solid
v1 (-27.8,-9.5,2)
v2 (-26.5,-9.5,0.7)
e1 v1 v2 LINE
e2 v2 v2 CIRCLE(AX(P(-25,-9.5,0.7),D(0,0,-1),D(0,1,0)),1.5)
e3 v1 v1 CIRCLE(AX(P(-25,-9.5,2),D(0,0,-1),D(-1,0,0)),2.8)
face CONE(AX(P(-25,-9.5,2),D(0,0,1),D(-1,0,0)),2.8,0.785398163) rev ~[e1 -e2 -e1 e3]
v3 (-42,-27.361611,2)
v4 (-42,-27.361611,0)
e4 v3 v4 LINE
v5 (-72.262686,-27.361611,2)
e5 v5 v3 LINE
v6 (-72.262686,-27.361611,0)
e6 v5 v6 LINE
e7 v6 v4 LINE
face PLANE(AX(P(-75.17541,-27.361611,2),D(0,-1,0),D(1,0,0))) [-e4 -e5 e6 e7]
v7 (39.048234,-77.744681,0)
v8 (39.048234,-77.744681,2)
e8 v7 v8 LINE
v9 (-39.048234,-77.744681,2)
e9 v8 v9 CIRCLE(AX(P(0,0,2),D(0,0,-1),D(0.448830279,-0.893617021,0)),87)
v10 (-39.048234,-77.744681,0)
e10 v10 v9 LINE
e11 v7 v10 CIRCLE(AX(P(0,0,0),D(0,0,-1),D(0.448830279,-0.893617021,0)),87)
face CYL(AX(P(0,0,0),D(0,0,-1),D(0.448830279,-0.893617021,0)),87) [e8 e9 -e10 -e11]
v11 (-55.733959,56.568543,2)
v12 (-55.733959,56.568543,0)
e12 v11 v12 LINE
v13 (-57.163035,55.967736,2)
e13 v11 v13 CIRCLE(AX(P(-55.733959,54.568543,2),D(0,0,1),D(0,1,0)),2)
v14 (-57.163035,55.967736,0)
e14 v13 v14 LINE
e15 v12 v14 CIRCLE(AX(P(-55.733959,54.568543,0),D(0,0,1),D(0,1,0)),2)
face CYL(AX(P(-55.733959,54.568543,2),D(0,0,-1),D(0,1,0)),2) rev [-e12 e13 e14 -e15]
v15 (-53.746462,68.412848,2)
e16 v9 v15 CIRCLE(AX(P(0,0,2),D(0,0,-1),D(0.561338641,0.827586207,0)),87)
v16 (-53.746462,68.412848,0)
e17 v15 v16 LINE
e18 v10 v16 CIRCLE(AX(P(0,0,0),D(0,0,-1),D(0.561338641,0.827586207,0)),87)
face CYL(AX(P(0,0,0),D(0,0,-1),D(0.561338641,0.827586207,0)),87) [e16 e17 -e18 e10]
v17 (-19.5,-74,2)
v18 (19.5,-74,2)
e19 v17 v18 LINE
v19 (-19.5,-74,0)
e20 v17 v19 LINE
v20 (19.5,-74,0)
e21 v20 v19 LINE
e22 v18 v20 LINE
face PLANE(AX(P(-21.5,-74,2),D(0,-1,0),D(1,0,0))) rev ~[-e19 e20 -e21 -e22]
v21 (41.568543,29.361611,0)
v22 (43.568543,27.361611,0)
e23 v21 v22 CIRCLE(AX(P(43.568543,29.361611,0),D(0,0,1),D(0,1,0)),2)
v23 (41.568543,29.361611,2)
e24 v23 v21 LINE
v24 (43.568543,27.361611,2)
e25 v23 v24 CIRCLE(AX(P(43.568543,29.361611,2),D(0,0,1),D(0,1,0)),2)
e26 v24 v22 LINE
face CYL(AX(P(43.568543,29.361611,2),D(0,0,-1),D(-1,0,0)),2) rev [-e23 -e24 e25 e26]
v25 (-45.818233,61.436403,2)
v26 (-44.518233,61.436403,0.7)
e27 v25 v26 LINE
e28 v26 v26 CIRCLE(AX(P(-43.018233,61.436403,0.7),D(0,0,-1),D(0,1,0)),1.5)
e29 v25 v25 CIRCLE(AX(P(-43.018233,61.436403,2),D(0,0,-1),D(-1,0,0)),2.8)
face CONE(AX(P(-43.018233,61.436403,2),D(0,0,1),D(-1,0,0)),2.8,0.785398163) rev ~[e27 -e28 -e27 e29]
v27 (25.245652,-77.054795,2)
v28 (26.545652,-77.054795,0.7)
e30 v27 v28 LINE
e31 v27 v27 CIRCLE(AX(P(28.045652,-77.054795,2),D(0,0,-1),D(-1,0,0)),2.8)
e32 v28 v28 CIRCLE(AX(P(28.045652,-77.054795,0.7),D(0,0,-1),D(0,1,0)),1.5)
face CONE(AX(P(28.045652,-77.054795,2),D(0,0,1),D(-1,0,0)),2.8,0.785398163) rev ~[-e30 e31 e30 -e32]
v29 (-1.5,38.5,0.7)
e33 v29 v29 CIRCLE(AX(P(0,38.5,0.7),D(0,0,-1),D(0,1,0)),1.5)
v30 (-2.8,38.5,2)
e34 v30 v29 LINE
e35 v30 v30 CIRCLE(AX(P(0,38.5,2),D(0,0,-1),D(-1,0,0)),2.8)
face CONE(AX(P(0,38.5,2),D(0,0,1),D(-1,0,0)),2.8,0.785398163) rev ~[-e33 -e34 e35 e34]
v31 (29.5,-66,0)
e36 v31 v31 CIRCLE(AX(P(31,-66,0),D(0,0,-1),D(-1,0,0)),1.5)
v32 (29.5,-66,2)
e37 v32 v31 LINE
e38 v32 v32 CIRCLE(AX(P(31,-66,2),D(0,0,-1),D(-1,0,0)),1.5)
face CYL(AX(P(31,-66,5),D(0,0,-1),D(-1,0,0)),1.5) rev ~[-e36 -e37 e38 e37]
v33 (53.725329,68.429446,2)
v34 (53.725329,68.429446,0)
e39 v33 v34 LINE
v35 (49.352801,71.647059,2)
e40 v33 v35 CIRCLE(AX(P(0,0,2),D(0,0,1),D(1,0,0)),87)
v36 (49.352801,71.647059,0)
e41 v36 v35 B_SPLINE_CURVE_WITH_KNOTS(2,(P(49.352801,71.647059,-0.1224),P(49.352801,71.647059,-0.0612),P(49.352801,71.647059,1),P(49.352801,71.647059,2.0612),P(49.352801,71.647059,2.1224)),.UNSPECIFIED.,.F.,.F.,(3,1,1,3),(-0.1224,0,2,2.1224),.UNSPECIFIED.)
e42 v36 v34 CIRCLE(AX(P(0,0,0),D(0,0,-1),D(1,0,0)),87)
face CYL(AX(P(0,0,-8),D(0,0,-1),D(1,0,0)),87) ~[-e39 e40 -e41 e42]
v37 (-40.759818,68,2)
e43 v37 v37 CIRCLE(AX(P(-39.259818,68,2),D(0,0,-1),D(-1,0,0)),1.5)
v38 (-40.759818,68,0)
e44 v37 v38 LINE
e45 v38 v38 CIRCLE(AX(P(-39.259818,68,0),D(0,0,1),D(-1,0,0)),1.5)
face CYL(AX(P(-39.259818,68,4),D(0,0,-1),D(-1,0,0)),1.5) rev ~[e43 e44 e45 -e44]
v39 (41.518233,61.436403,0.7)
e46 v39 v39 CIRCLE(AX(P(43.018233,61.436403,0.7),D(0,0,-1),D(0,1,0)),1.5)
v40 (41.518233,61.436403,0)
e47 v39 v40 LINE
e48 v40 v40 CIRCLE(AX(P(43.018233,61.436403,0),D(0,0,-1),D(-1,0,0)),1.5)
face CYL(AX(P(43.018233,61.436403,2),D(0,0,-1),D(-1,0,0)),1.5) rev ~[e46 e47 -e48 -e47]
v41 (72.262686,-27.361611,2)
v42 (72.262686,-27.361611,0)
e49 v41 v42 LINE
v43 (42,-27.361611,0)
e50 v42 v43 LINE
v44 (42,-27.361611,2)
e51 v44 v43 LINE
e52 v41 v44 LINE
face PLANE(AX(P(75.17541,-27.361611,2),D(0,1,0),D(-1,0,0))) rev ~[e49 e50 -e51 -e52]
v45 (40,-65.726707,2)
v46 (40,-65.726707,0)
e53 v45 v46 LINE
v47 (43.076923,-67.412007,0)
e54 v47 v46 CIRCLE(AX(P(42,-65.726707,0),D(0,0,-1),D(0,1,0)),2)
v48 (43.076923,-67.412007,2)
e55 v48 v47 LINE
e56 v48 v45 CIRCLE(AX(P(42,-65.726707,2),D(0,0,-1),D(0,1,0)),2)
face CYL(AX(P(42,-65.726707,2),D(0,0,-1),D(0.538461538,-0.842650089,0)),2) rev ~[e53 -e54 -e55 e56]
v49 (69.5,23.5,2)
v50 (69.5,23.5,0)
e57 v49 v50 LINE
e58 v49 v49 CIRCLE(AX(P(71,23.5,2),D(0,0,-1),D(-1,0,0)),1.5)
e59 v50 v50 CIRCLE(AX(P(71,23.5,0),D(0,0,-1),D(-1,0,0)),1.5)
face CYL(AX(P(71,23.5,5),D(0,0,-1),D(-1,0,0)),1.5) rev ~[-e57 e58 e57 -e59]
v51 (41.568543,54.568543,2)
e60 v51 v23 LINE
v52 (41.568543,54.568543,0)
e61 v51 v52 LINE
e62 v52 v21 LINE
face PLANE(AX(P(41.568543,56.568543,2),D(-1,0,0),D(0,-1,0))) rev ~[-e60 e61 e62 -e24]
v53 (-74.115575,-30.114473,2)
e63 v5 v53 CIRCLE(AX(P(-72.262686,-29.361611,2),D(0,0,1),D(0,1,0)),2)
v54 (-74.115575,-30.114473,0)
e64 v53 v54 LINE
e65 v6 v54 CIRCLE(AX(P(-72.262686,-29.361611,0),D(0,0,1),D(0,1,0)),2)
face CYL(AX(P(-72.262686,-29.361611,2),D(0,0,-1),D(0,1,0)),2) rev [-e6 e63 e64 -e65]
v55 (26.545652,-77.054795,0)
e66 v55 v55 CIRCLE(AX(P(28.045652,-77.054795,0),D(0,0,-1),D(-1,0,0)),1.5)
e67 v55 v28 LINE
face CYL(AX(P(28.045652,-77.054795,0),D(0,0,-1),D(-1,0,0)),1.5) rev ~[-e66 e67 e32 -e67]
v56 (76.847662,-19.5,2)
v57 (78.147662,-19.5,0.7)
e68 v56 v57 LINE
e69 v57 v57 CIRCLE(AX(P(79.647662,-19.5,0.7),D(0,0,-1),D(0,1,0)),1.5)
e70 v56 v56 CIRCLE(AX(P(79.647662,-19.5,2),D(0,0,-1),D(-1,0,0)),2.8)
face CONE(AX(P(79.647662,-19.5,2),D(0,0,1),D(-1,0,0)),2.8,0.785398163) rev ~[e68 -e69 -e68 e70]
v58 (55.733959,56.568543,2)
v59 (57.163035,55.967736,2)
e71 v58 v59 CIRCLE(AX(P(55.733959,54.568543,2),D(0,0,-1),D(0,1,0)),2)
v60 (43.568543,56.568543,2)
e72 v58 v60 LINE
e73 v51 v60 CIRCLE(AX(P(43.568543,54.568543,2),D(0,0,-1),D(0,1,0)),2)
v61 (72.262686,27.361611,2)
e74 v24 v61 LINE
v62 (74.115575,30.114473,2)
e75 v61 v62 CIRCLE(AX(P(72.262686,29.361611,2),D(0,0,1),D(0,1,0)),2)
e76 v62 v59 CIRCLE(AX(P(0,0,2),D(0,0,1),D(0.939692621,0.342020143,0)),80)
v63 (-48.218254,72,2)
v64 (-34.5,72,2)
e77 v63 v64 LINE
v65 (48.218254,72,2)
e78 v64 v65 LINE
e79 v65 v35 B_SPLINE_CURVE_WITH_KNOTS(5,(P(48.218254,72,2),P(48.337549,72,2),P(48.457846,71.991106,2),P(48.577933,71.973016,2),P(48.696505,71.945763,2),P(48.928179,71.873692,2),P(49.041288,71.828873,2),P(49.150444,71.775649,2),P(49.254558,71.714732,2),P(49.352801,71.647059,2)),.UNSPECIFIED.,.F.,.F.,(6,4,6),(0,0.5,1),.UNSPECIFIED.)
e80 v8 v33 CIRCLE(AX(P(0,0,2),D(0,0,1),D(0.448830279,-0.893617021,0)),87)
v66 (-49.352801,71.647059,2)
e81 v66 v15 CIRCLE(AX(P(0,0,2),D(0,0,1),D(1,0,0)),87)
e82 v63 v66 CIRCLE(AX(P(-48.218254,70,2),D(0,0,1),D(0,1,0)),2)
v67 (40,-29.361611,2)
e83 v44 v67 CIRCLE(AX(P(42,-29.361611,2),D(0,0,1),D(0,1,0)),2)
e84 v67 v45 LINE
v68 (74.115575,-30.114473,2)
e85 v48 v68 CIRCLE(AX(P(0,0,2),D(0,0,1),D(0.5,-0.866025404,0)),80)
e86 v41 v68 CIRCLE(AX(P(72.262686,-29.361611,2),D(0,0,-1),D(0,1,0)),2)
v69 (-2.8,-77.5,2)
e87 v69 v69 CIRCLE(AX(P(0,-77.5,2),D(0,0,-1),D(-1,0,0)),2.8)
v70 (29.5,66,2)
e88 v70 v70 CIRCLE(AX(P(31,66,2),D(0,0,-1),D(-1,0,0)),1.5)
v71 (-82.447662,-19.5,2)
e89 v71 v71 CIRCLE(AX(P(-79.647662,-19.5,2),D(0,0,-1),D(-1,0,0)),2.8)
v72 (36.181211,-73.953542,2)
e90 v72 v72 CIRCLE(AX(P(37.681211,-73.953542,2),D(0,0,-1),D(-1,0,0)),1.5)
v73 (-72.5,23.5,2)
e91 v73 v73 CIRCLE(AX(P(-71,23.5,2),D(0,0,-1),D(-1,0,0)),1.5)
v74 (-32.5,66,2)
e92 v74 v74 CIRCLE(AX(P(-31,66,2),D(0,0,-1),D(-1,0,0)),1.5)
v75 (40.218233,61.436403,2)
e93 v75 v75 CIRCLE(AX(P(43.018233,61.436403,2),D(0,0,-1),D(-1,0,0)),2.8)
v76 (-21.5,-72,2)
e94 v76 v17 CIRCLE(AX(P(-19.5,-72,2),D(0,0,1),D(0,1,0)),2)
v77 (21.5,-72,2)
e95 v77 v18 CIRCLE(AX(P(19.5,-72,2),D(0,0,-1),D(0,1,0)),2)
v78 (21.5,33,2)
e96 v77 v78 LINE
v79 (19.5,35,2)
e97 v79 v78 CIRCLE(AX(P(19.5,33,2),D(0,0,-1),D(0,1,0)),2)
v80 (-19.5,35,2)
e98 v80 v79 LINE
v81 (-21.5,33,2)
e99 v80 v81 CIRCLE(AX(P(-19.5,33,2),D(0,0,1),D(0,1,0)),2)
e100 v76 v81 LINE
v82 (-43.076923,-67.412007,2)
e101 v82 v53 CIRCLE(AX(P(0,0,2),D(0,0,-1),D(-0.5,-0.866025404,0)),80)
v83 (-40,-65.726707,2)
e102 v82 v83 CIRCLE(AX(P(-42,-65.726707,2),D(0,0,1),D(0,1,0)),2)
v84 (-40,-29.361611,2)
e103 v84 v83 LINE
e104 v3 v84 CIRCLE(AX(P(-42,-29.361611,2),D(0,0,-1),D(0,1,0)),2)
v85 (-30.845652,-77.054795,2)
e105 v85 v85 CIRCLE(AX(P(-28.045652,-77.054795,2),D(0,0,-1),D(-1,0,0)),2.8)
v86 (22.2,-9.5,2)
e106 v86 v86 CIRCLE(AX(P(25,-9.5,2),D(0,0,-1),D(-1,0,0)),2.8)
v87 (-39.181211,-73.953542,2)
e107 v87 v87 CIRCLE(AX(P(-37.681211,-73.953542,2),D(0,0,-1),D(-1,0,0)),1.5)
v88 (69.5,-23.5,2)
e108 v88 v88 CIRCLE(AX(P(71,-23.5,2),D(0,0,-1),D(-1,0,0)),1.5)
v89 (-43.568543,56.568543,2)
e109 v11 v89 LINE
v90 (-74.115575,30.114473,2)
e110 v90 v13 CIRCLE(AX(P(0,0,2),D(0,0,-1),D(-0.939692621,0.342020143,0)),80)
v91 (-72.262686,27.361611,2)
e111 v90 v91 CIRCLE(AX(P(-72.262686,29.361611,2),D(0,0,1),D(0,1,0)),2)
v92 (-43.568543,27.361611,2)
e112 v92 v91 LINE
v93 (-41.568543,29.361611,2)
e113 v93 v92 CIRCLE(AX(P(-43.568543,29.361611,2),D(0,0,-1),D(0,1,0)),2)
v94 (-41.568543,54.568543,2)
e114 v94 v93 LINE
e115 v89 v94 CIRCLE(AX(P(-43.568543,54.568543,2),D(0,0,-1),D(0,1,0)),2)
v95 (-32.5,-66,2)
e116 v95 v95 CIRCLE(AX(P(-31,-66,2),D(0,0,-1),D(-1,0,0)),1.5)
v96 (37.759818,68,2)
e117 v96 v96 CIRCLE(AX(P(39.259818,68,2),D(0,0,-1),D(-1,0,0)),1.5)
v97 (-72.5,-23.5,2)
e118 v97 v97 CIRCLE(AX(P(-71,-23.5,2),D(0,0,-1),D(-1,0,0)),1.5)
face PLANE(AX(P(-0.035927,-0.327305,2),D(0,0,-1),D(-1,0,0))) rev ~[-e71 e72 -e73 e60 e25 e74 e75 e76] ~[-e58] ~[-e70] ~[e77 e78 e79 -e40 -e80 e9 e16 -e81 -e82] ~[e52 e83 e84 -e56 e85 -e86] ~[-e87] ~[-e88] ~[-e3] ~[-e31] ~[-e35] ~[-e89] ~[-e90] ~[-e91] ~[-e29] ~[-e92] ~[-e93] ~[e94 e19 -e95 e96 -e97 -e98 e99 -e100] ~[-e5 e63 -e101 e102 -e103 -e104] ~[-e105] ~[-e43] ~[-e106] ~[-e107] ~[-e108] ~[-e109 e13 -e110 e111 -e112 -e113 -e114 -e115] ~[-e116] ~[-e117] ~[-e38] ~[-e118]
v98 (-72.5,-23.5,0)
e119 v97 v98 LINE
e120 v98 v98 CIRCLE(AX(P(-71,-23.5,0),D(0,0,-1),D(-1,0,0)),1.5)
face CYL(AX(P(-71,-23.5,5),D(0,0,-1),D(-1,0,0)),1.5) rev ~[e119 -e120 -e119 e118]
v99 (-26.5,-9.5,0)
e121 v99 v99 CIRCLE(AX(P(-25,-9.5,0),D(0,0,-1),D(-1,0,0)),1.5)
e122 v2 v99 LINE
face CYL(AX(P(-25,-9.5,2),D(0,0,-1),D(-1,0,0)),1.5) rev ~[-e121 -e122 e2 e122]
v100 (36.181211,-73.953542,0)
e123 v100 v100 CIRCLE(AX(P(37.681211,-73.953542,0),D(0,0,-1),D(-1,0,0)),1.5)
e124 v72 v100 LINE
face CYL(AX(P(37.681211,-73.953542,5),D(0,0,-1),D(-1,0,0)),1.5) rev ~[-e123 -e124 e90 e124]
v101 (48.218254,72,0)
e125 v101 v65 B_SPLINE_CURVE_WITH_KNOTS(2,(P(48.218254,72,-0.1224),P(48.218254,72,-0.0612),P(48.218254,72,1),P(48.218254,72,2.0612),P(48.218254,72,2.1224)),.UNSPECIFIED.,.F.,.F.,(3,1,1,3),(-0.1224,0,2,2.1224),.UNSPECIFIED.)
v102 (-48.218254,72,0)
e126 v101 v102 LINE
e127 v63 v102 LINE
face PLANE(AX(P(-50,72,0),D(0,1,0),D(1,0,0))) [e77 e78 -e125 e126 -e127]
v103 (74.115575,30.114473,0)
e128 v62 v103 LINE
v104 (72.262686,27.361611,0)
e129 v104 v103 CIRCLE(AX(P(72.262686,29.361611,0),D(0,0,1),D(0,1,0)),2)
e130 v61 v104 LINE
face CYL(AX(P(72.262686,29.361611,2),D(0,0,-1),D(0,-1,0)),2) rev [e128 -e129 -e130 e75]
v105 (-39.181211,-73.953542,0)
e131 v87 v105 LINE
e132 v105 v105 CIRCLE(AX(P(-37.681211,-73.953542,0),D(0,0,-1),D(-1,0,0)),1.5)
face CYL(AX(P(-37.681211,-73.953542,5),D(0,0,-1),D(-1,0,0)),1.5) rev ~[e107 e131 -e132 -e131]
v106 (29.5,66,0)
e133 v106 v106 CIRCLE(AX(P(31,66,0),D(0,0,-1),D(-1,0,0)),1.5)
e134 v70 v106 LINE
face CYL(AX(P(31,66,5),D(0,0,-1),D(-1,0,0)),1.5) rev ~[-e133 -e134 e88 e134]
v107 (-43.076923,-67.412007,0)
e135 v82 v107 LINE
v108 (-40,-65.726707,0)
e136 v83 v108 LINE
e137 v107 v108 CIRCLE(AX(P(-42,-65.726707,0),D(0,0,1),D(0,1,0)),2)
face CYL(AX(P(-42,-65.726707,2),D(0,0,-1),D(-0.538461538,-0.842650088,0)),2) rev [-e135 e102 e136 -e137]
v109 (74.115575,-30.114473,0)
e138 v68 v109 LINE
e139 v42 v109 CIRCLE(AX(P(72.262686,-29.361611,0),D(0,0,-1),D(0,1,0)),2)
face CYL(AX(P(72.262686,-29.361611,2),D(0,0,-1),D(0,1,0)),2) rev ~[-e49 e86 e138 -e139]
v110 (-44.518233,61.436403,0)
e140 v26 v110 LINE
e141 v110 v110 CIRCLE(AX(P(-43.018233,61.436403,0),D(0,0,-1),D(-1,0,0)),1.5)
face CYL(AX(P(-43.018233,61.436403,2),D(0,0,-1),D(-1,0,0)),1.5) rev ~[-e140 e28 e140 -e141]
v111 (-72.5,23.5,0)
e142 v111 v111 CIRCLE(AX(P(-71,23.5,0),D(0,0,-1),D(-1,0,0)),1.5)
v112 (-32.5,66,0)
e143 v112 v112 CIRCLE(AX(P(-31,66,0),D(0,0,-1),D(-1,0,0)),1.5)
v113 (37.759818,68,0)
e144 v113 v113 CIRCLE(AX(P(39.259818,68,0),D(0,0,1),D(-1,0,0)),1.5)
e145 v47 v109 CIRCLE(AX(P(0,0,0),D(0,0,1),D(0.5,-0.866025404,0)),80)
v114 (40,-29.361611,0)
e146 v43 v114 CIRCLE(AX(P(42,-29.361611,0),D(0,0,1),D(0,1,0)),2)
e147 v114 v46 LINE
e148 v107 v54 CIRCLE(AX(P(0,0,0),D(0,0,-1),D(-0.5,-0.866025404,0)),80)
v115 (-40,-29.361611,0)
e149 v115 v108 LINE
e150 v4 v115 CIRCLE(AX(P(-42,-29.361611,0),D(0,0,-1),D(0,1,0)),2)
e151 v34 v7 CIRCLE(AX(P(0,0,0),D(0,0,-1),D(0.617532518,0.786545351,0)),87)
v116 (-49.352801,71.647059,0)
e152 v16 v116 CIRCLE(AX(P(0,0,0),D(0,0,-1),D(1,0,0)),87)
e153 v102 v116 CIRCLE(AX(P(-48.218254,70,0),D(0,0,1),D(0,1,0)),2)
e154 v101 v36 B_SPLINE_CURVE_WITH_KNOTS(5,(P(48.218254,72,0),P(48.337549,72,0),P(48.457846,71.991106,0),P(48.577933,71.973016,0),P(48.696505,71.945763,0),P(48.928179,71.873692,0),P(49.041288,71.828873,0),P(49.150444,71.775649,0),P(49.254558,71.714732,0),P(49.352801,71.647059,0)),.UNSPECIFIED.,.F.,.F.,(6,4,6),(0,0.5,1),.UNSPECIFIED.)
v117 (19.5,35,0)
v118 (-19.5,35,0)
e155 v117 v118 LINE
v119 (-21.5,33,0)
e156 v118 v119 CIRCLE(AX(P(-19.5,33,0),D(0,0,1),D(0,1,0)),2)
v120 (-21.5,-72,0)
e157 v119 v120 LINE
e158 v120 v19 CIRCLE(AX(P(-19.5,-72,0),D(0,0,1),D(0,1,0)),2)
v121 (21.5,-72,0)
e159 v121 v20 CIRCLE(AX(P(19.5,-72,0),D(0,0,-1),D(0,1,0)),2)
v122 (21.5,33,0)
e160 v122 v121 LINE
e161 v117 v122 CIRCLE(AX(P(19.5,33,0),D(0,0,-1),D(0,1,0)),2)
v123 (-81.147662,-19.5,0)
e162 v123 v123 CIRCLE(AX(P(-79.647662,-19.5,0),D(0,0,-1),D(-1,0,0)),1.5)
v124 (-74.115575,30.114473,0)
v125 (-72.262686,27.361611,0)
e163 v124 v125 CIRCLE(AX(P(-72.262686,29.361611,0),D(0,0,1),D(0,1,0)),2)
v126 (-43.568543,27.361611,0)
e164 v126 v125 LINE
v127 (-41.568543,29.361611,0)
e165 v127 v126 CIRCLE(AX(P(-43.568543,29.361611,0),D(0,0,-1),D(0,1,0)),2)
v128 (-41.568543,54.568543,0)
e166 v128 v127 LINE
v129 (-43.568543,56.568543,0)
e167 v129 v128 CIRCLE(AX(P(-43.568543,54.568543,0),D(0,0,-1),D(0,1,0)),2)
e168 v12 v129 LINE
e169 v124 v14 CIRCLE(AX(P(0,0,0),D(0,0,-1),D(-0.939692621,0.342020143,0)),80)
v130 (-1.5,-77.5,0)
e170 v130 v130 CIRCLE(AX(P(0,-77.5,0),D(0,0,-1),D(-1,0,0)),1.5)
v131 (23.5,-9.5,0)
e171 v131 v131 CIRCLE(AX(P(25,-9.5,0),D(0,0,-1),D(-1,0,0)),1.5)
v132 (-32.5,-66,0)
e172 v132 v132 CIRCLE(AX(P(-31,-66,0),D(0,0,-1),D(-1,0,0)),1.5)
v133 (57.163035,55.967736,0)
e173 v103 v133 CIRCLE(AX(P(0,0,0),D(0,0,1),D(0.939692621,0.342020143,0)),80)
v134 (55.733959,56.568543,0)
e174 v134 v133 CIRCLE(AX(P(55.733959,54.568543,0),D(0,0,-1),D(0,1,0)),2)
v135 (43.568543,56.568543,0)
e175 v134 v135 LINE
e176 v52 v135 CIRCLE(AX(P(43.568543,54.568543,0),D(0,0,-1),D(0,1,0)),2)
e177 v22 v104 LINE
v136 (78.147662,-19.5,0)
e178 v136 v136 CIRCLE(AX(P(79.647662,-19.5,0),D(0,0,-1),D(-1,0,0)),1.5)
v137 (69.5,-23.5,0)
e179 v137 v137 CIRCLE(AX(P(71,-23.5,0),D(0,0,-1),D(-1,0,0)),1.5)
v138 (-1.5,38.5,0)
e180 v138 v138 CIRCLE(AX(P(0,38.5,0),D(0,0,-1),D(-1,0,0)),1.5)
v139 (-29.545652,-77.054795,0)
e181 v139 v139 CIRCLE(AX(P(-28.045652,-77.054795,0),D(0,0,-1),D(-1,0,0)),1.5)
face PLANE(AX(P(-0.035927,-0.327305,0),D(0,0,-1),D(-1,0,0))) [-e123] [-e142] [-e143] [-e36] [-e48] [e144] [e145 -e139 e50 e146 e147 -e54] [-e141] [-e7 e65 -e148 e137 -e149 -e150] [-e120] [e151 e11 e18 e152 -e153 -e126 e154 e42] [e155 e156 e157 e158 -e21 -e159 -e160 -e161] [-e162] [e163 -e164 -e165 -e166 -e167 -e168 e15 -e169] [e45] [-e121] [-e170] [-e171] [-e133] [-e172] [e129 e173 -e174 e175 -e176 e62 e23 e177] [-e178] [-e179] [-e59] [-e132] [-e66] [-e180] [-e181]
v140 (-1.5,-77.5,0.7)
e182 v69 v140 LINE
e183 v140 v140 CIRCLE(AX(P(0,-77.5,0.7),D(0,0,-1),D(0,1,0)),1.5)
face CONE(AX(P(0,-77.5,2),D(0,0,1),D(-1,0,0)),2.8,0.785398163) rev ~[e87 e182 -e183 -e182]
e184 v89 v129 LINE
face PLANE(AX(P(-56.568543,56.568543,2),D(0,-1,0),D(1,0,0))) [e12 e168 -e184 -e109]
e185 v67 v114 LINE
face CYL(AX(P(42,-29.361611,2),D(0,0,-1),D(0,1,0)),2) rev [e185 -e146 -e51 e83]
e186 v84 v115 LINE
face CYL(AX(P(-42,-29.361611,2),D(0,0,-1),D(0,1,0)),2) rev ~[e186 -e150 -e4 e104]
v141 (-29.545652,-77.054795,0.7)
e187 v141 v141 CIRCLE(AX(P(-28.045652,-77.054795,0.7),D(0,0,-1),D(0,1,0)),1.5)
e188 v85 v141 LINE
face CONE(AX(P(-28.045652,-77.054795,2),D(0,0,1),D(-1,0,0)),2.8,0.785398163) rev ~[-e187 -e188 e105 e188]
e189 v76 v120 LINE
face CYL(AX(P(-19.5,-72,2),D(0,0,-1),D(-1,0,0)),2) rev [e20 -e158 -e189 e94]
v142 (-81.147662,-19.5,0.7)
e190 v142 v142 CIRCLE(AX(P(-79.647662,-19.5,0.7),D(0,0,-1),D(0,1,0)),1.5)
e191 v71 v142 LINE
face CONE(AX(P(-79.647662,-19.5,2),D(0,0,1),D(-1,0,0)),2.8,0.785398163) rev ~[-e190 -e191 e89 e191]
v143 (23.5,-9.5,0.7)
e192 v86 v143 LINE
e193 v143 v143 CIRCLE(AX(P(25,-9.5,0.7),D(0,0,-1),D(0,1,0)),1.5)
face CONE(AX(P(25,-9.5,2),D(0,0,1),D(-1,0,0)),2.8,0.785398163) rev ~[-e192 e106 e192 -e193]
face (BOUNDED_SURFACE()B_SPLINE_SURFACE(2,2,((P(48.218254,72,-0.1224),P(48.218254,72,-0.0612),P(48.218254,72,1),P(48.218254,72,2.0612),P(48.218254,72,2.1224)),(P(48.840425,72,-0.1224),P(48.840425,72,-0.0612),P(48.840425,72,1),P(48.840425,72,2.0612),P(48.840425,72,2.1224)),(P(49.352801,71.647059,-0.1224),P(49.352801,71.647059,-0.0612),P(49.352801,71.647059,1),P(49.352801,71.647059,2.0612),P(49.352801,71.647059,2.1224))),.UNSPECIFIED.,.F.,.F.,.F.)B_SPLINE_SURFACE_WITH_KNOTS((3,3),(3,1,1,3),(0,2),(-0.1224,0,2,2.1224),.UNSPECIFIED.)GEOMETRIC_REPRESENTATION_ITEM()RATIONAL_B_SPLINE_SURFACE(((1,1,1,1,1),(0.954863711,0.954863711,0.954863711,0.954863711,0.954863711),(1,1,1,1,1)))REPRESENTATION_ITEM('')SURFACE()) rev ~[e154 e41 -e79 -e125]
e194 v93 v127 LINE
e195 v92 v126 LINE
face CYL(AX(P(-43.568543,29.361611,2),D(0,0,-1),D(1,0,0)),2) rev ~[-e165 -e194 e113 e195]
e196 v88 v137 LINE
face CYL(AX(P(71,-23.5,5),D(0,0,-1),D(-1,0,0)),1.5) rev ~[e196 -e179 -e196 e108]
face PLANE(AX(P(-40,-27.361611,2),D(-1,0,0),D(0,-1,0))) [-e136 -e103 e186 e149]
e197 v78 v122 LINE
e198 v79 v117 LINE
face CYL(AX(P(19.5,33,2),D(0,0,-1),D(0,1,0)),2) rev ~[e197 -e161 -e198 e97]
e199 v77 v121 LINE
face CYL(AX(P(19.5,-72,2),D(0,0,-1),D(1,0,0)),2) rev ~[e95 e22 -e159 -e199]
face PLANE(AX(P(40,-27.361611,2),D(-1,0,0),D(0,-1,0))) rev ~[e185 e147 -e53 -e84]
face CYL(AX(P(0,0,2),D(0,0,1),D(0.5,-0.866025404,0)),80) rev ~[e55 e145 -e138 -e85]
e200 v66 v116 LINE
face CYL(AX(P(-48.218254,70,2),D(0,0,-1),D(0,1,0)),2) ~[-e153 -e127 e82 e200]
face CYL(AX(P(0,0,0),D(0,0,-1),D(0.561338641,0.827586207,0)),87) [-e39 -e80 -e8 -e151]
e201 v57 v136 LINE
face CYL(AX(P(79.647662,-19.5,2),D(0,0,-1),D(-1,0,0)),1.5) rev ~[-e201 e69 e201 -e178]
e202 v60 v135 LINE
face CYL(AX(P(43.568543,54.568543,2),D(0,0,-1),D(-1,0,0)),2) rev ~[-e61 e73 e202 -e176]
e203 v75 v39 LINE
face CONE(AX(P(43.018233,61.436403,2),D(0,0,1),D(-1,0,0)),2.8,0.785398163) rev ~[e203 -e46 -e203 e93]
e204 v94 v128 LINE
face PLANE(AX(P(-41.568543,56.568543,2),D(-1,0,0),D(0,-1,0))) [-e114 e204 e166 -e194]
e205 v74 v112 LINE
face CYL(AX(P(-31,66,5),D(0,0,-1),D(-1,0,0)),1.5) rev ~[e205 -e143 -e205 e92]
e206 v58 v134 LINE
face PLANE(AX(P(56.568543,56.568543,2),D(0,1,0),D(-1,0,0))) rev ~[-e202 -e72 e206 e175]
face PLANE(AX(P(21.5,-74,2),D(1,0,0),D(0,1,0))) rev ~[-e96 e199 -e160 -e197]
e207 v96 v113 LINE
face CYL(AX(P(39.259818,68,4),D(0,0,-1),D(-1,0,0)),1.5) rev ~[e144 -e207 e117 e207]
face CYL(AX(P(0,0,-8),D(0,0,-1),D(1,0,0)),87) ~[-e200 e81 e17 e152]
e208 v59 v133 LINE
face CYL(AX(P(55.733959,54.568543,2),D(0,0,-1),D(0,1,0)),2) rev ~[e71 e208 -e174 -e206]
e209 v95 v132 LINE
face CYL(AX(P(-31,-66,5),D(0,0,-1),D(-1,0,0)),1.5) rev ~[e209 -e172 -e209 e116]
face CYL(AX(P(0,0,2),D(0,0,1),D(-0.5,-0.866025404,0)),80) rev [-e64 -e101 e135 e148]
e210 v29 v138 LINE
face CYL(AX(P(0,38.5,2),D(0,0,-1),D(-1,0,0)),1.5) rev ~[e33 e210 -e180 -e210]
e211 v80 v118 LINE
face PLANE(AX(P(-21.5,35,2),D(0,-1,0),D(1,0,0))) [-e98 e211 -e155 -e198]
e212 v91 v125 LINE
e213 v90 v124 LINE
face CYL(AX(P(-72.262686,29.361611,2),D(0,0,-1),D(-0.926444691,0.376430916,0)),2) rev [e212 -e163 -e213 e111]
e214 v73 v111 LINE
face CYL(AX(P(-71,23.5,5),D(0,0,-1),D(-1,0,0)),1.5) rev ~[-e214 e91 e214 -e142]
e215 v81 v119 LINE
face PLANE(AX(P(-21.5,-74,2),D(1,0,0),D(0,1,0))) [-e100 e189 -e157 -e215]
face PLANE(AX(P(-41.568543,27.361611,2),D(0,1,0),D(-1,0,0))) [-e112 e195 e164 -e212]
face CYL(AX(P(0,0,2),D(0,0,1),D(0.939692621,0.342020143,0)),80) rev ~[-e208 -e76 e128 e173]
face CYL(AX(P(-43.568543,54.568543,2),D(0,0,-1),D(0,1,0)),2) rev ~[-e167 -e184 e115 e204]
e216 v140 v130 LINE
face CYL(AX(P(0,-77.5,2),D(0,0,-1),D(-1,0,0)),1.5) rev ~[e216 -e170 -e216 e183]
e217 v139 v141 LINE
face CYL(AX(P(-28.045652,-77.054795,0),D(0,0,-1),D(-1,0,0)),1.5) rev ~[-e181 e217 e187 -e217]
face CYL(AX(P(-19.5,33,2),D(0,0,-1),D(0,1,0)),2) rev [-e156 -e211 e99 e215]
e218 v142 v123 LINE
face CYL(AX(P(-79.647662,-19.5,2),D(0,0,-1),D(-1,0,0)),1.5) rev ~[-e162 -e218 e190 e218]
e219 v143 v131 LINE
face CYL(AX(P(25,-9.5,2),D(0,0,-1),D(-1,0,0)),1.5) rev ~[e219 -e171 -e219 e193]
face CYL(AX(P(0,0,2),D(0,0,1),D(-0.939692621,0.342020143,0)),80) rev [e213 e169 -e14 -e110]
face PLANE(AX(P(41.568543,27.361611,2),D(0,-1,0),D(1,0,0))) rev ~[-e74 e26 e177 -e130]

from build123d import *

# Parameters (mm, degrees)
SKETCH1_R                     = 1.5
BOSS_EXTRUDE1_DEPTH           = 2
M3_CLEARANCE_HOLE1_D          = 3
M3_CLEARANCE_HOLE1_DEPTH      = 2
M3_CLEARANCE_HOLE1_TIP        = 0.901290929
BOSS_EXTRUDE2_START           = -2
SKETCH5_R                     = 1.6
BOSS_EXTRUDE2_DEPTH           = 2
CUT_EXTRUDE1_DEPTH            = 2
CUT_EXTRUDE2_START            = -10
SKETCH8_R                     = 96.999999979
SKETCH8_R_2                   = 86.999999979
CUT_EXTRUDE2_DEPTH            = 10
SKETCH10_W                    = 43
SKETCH10_H                    = 109
CUT_EXTRUDE3_DEPTH            = 10
CSK_FOR_M3_SFHCS1_D           = 3
CSK_FOR_M3_SFHCS1_DEPTH       = 9.5
CSK_FOR_M3_SFHCS1_CSINK_D     = 5.6
CSK_FOR_M3_SFHCS1_CSINK_ANGLE = 90
CSK_FOR_M3_SFHCS1_TIP         = 0.901290929
F_3_0_3_DIAMETER_HOLE1_D      = 3
F_3_0_3_DIAMETER_HOLE1_DEPTH  = 3
F_3_0_3_DIAMETER_HOLE1_TIP    = 0.901290929
FILLET1_R                     = 2


with BuildPart() as part:
    # Sketch1 → Boss-Extrude1 (new body)
    with BuildSketch(Plane(origin=(0, 0, 0), x_dir=(-1, 0, 0), z_dir=(0, 0, -1))):
        with BuildLine():
            Line((49.999999993, 72.000000003), (34.499999968, 72.000000003))
            ThreePointArc((34.499999968, 72.000000003), (33.085786407, 71.414213566), (32.49999997, 70.000000005))
            Line((32.49999997, 70.000000005), (32.49999997, 50.749999994))
            ThreePointArc((32.49999997, 50.749999994), (31.914213535, 49.335786439), (30.49999998, 48.750000004))
            Line((30.49999998, 48.750000004), (-30.50000002, 48.750000004))
            ThreePointArc((-30.50000002, 48.750000004), (-31.914213575, 49.335786439), (-32.50000001, 50.749999994))
            Line((-32.50000001, 50.749999994), (-32.50000001, 69.749999994))
            ThreePointArc((-32.50000001, 69.749999994), (-33.085786447, 71.164213555), (-34.500000007, 71.749999992))
            Line((-34.500000007, 71.749999992), (-50.000000007, 71.749999992))
            ThreePointArc((-50.000000007, 71.749999992), (-52.651650433, 70.651650422), (-53.750000002, 67.999999996))
            Line((-53.750000002, 67.999999996), (-53.750000002, 40.749999996))
            ThreePointArc((-53.750000002, 40.749999996), (-53.164213571, 39.335786449), (-51.750000024, 38.750000018))
            Line((-51.750000024, 38.750000018), (-39.000000024, 38.750000018))
            ThreePointArc((-39.000000024, 38.750000018), (-36.171572886, 37.578427137), (-35.000000005, 34.75))
            Line((-35.000000005, 34.75), (-35.000000005, -46))
            ThreePointArc((-35.000000005, -46), (-36.171572879, -48.828427121), (-38.999999999, -49.999999994))
            Line((-38.999999999, -49.999999994), (-45.09502308, -49.999999994))
            ThreePointArc((-45.09502308, -49.999999994), (-54.039294999, -55.527864046), (-53.095023084, -66.000000011))
            ThreePointArc((-53.095023084, -66.000000011), (-46.752677079, -72.686883058), (-39.048234252, -77.744680848))
            ThreePointArc((-39.048234252, -77.744680848), (2e-09, -86.999999997), (39.048234252, -77.744680848))
            ThreePointArc((39.048234252, -77.744680848), (46.752677083, -72.686883063), (53.095023084, -66.000000011))
            ThreePointArc((53.095023084, -66.000000011), (54.039295004, -55.527864051), (45.09502308, -49.999999994))
            Line((45.09502308, -49.999999994), (39.000000001, -49.999999994))
            ThreePointArc((39.000000001, -49.999999994), (36.17157288, -48.828427121), (35.000000007, -46))
            Line((35.000000007, -46), (35.000000007, 34.75))
            ThreePointArc((35.000000007, 34.75), (36.171572888, 37.578427137), (39.000000025, 38.750000018))
            Line((39.000000025, 38.750000018), (51.750000009, 38.750000018))
            ThreePointArc((51.750000009, 38.750000018), (53.164213556, 39.335786449), (53.749999988, 40.749999996))
            Line((53.749999988, 40.749999996), (53.749999988, 68.250000008))
            ThreePointArc((53.749999988, 68.250000008), (52.651650419, 70.901650434), (49.999999993, 72.000000003))
        make_face()
        with Locations((49.348831914, 65.488111827)):
            Circle(SKETCH1_R, mode=Mode.SUBTRACT)
        with Locations((-49.348831883, 65.488111827)):
            Circle(SKETCH1_R, mode=Mode.SUBTRACT)
        with Locations((28.045651768, -77.054794901)):
            Circle(SKETCH1_R, mode=Mode.SUBTRACT)
        with Locations((-28.045651737, -77.054794901)):
            Circle(SKETCH1_R, mode=Mode.SUBTRACT)
    extrude(amount=-BOSS_EXTRUDE1_DEPTH)

    # M3 Clearance Hole1
    with Locations(Plane(origin=(-39.259818305, 68, 2), x_dir=(1, 0, 0), z_dir=(0, 0, 1))):
        with Locations((0, 0), (78.51963661, 0)):
            Hole(M3_CLEARANCE_HOLE1_D / 2, depth=M3_CLEARANCE_HOLE1_DEPTH)
            with Locations((0, 0, -(M3_CLEARANCE_HOLE1_DEPTH + M3_CLEARANCE_HOLE1_TIP / 2))):  # 118° drill point
                Cone(0, M3_CLEARANCE_HOLE1_D / 2, M3_CLEARANCE_HOLE1_TIP, mode=Mode.SUBTRACT)

    # Sketch5 → Boss-Extrude2 (add)
    with BuildSketch(Plane.XY.offset(2).offset(BOSS_EXTRUDE2_START)):
        with BuildLine():
            Line((-48.836461775, 72), (48.836461775, 72))
            ThreePointArc((48.836461775, 72), (0, -86.999999993), (-48.836461775, 72))
        make_face()
        with Locations((-39.259818305, 68)):
            Circle(SKETCH5_R, mode=Mode.SUBTRACT)
        with Locations((39.259818305, 68)):
            Circle(SKETCH5_R, mode=Mode.SUBTRACT)
        with Locations((-28.045651768, -77.054794901)):
            Circle(SKETCH5_R, mode=Mode.SUBTRACT)
        with Locations((28.045651737, -77.054794901)):
            Circle(SKETCH5_R, mode=Mode.SUBTRACT)
    extrude(amount=BOSS_EXTRUDE2_DEPTH)

    # Sketch6 → Cut-Extrude1 (cut)
    with BuildSketch(Plane.XY.offset(2)):
        with BuildLine():
            Line((-75.175409678, -27.361611463), (-40.000000015, -27.361611463))
            Line((-40.000000015, -27.361611463), (-40.000000015, -69.2820323))
            ThreePointArc((-40.000000015, -69.2820323), (-61.283555465, -51.423008772), (-75.175409678, -27.361611463))
        make_face()
        with BuildLine():
            Line((41.568542512, 27.361611478), (75.175409701, 27.361611478))
            ThreePointArc((75.175409701, 27.361611478), (67.471315698, 42.983968695), (56.568542512, 56.568542531))
            Line((56.568542512, 56.568542531), (41.568542512, 56.568542531))
            Line((41.568542512, 56.568542531), (41.568542512, 27.361611478))
        make_face()
        with BuildLine():
            Line((40.000000015, -27.361611463), (40.000000015, -69.2820323))
            ThreePointArc((40.000000015, -69.2820323), (61.283555468, -51.423008776), (75.175409678, -27.361611463))
            Line((75.175409678, -27.361611463), (40.000000015, -27.361611463))
        make_face()
        with BuildLine():
            Line((-56.568542512, 56.568542531), (-41.568542512, 56.568542531))
            Line((-41.568542512, 56.568542531), (-41.568542512, 27.361611478))
            Line((-41.568542512, 27.361611478), (-75.175409701, 27.361611478))
            ThreePointArc((-75.175409701, 27.361611478), (-67.471315695, 42.983968693), (-56.568542512, 56.568542531))
        make_face()
    extrude(amount=-CUT_EXTRUDE1_DEPTH, mode=Mode.SUBTRACT)

    # Sketch8 → Cut-Extrude2 (cut)
    with BuildSketch(Plane.XY.offset(2).offset(CUT_EXTRUDE2_START)):
        Circle(SKETCH8_R)
        Circle(SKETCH8_R_2, mode=Mode.SUBTRACT)
    extrude(amount=CUT_EXTRUDE2_DEPTH, mode=Mode.SUBTRACT)

    # Sketch10 → Cut-Extrude3 (cut)
    with BuildSketch(Plane.XY.offset(2)):
        with Locations((0, -19.499999997)):
            Rectangle(SKETCH10_W, SKETCH10_H)
    extrude(amount=-CUT_EXTRUDE3_DEPTH, mode=Mode.SUBTRACT)

    # CSK for M3 SFHCS1
    with Locations(Plane(origin=(0, 38.500000003, 2), x_dir=(1, 0, 0), z_dir=(0, 0, 1))):
        with Locations((0, 0), (-25, -48), (0, -116), (-79.647661626, -58), (79.647661626, -58), (-43.018232726, 22.936403319), (-28.045651768, -115.554794904), (43.018232726, 22.936403319), (25, -48), (28.045651737, -115.554794904)):
            CounterSinkHole(CSK_FOR_M3_SFHCS1_D / 2, CSK_FOR_M3_SFHCS1_CSINK_D / 2, depth=CSK_FOR_M3_SFHCS1_DEPTH, counter_sink_angle=CSK_FOR_M3_SFHCS1_CSINK_ANGLE)
            with Locations((0, 0, -(CSK_FOR_M3_SFHCS1_DEPTH + CSK_FOR_M3_SFHCS1_TIP / 2))):  # 118° drill point
                Cone(0, CSK_FOR_M3_SFHCS1_D / 2, CSK_FOR_M3_SFHCS1_TIP, mode=Mode.SUBTRACT)

    # Ø3.0 (3) Diameter Hole1
    with Locations(Plane(origin=(-71, 23.5, 2), x_dir=(1, 0, 0), z_dir=(0, 0, 1))):
        with Locations((0, 0), (0, -47), (40, -89.5), (33.318788522, -97.453541508), (40, 42.5), (102, 42.5), (142, 0), (102, -89.5), (142, -47), (108.681211478, -97.453541508)):
            Hole(F_3_0_3_DIAMETER_HOLE1_D / 2, depth=F_3_0_3_DIAMETER_HOLE1_DEPTH)
            with Locations((0, 0, -(F_3_0_3_DIAMETER_HOLE1_DEPTH + F_3_0_3_DIAMETER_HOLE1_TIP / 2))):  # 118° drill point
                Cone(0, F_3_0_3_DIAMETER_HOLE1_D / 2, F_3_0_3_DIAMETER_HOLE1_TIP, mode=Mode.SUBTRACT)

    # Fillet1
    fillet1_edges = [part.edges().sort_by_distance(p)[0] for p in [
        (48.836461775, 72, 1),
        (-40.000000015, -69.2820323, 1),
        (-75.175409678, -27.361611463, 1),
        (-40.000000015, -27.361611463, 1),
        (41.568542512, 27.361611478, 1),
        (41.568542512, 56.568542531, 1),
        (56.568542512, 56.568542531, 1),
        (75.175409701, 27.361611478, 1),
        (40.000000015, -27.361611463, 1),
        (75.175409678, -27.361611463, 1),
        (40.000000015, -69.2820323, 1),
        (-75.175409701, 27.361611478, 1),
        (-56.568542512, 56.568542531, 1),
        (-41.568542512, 56.568542531, 1),
        (-41.568542512, 27.361611478, 1),
        (-48.836461746, 72.000000003, 1),
        (21.5, 35.000000003, 1),
        (21.5, -73.999999997, 1),
        (-21.5, -73.999999997, 1),
        (-21.5, 35.000000003, 1),
    ]]
    fillet(fillet1_edges, radius=FILLET1_R)


solid = part.part
